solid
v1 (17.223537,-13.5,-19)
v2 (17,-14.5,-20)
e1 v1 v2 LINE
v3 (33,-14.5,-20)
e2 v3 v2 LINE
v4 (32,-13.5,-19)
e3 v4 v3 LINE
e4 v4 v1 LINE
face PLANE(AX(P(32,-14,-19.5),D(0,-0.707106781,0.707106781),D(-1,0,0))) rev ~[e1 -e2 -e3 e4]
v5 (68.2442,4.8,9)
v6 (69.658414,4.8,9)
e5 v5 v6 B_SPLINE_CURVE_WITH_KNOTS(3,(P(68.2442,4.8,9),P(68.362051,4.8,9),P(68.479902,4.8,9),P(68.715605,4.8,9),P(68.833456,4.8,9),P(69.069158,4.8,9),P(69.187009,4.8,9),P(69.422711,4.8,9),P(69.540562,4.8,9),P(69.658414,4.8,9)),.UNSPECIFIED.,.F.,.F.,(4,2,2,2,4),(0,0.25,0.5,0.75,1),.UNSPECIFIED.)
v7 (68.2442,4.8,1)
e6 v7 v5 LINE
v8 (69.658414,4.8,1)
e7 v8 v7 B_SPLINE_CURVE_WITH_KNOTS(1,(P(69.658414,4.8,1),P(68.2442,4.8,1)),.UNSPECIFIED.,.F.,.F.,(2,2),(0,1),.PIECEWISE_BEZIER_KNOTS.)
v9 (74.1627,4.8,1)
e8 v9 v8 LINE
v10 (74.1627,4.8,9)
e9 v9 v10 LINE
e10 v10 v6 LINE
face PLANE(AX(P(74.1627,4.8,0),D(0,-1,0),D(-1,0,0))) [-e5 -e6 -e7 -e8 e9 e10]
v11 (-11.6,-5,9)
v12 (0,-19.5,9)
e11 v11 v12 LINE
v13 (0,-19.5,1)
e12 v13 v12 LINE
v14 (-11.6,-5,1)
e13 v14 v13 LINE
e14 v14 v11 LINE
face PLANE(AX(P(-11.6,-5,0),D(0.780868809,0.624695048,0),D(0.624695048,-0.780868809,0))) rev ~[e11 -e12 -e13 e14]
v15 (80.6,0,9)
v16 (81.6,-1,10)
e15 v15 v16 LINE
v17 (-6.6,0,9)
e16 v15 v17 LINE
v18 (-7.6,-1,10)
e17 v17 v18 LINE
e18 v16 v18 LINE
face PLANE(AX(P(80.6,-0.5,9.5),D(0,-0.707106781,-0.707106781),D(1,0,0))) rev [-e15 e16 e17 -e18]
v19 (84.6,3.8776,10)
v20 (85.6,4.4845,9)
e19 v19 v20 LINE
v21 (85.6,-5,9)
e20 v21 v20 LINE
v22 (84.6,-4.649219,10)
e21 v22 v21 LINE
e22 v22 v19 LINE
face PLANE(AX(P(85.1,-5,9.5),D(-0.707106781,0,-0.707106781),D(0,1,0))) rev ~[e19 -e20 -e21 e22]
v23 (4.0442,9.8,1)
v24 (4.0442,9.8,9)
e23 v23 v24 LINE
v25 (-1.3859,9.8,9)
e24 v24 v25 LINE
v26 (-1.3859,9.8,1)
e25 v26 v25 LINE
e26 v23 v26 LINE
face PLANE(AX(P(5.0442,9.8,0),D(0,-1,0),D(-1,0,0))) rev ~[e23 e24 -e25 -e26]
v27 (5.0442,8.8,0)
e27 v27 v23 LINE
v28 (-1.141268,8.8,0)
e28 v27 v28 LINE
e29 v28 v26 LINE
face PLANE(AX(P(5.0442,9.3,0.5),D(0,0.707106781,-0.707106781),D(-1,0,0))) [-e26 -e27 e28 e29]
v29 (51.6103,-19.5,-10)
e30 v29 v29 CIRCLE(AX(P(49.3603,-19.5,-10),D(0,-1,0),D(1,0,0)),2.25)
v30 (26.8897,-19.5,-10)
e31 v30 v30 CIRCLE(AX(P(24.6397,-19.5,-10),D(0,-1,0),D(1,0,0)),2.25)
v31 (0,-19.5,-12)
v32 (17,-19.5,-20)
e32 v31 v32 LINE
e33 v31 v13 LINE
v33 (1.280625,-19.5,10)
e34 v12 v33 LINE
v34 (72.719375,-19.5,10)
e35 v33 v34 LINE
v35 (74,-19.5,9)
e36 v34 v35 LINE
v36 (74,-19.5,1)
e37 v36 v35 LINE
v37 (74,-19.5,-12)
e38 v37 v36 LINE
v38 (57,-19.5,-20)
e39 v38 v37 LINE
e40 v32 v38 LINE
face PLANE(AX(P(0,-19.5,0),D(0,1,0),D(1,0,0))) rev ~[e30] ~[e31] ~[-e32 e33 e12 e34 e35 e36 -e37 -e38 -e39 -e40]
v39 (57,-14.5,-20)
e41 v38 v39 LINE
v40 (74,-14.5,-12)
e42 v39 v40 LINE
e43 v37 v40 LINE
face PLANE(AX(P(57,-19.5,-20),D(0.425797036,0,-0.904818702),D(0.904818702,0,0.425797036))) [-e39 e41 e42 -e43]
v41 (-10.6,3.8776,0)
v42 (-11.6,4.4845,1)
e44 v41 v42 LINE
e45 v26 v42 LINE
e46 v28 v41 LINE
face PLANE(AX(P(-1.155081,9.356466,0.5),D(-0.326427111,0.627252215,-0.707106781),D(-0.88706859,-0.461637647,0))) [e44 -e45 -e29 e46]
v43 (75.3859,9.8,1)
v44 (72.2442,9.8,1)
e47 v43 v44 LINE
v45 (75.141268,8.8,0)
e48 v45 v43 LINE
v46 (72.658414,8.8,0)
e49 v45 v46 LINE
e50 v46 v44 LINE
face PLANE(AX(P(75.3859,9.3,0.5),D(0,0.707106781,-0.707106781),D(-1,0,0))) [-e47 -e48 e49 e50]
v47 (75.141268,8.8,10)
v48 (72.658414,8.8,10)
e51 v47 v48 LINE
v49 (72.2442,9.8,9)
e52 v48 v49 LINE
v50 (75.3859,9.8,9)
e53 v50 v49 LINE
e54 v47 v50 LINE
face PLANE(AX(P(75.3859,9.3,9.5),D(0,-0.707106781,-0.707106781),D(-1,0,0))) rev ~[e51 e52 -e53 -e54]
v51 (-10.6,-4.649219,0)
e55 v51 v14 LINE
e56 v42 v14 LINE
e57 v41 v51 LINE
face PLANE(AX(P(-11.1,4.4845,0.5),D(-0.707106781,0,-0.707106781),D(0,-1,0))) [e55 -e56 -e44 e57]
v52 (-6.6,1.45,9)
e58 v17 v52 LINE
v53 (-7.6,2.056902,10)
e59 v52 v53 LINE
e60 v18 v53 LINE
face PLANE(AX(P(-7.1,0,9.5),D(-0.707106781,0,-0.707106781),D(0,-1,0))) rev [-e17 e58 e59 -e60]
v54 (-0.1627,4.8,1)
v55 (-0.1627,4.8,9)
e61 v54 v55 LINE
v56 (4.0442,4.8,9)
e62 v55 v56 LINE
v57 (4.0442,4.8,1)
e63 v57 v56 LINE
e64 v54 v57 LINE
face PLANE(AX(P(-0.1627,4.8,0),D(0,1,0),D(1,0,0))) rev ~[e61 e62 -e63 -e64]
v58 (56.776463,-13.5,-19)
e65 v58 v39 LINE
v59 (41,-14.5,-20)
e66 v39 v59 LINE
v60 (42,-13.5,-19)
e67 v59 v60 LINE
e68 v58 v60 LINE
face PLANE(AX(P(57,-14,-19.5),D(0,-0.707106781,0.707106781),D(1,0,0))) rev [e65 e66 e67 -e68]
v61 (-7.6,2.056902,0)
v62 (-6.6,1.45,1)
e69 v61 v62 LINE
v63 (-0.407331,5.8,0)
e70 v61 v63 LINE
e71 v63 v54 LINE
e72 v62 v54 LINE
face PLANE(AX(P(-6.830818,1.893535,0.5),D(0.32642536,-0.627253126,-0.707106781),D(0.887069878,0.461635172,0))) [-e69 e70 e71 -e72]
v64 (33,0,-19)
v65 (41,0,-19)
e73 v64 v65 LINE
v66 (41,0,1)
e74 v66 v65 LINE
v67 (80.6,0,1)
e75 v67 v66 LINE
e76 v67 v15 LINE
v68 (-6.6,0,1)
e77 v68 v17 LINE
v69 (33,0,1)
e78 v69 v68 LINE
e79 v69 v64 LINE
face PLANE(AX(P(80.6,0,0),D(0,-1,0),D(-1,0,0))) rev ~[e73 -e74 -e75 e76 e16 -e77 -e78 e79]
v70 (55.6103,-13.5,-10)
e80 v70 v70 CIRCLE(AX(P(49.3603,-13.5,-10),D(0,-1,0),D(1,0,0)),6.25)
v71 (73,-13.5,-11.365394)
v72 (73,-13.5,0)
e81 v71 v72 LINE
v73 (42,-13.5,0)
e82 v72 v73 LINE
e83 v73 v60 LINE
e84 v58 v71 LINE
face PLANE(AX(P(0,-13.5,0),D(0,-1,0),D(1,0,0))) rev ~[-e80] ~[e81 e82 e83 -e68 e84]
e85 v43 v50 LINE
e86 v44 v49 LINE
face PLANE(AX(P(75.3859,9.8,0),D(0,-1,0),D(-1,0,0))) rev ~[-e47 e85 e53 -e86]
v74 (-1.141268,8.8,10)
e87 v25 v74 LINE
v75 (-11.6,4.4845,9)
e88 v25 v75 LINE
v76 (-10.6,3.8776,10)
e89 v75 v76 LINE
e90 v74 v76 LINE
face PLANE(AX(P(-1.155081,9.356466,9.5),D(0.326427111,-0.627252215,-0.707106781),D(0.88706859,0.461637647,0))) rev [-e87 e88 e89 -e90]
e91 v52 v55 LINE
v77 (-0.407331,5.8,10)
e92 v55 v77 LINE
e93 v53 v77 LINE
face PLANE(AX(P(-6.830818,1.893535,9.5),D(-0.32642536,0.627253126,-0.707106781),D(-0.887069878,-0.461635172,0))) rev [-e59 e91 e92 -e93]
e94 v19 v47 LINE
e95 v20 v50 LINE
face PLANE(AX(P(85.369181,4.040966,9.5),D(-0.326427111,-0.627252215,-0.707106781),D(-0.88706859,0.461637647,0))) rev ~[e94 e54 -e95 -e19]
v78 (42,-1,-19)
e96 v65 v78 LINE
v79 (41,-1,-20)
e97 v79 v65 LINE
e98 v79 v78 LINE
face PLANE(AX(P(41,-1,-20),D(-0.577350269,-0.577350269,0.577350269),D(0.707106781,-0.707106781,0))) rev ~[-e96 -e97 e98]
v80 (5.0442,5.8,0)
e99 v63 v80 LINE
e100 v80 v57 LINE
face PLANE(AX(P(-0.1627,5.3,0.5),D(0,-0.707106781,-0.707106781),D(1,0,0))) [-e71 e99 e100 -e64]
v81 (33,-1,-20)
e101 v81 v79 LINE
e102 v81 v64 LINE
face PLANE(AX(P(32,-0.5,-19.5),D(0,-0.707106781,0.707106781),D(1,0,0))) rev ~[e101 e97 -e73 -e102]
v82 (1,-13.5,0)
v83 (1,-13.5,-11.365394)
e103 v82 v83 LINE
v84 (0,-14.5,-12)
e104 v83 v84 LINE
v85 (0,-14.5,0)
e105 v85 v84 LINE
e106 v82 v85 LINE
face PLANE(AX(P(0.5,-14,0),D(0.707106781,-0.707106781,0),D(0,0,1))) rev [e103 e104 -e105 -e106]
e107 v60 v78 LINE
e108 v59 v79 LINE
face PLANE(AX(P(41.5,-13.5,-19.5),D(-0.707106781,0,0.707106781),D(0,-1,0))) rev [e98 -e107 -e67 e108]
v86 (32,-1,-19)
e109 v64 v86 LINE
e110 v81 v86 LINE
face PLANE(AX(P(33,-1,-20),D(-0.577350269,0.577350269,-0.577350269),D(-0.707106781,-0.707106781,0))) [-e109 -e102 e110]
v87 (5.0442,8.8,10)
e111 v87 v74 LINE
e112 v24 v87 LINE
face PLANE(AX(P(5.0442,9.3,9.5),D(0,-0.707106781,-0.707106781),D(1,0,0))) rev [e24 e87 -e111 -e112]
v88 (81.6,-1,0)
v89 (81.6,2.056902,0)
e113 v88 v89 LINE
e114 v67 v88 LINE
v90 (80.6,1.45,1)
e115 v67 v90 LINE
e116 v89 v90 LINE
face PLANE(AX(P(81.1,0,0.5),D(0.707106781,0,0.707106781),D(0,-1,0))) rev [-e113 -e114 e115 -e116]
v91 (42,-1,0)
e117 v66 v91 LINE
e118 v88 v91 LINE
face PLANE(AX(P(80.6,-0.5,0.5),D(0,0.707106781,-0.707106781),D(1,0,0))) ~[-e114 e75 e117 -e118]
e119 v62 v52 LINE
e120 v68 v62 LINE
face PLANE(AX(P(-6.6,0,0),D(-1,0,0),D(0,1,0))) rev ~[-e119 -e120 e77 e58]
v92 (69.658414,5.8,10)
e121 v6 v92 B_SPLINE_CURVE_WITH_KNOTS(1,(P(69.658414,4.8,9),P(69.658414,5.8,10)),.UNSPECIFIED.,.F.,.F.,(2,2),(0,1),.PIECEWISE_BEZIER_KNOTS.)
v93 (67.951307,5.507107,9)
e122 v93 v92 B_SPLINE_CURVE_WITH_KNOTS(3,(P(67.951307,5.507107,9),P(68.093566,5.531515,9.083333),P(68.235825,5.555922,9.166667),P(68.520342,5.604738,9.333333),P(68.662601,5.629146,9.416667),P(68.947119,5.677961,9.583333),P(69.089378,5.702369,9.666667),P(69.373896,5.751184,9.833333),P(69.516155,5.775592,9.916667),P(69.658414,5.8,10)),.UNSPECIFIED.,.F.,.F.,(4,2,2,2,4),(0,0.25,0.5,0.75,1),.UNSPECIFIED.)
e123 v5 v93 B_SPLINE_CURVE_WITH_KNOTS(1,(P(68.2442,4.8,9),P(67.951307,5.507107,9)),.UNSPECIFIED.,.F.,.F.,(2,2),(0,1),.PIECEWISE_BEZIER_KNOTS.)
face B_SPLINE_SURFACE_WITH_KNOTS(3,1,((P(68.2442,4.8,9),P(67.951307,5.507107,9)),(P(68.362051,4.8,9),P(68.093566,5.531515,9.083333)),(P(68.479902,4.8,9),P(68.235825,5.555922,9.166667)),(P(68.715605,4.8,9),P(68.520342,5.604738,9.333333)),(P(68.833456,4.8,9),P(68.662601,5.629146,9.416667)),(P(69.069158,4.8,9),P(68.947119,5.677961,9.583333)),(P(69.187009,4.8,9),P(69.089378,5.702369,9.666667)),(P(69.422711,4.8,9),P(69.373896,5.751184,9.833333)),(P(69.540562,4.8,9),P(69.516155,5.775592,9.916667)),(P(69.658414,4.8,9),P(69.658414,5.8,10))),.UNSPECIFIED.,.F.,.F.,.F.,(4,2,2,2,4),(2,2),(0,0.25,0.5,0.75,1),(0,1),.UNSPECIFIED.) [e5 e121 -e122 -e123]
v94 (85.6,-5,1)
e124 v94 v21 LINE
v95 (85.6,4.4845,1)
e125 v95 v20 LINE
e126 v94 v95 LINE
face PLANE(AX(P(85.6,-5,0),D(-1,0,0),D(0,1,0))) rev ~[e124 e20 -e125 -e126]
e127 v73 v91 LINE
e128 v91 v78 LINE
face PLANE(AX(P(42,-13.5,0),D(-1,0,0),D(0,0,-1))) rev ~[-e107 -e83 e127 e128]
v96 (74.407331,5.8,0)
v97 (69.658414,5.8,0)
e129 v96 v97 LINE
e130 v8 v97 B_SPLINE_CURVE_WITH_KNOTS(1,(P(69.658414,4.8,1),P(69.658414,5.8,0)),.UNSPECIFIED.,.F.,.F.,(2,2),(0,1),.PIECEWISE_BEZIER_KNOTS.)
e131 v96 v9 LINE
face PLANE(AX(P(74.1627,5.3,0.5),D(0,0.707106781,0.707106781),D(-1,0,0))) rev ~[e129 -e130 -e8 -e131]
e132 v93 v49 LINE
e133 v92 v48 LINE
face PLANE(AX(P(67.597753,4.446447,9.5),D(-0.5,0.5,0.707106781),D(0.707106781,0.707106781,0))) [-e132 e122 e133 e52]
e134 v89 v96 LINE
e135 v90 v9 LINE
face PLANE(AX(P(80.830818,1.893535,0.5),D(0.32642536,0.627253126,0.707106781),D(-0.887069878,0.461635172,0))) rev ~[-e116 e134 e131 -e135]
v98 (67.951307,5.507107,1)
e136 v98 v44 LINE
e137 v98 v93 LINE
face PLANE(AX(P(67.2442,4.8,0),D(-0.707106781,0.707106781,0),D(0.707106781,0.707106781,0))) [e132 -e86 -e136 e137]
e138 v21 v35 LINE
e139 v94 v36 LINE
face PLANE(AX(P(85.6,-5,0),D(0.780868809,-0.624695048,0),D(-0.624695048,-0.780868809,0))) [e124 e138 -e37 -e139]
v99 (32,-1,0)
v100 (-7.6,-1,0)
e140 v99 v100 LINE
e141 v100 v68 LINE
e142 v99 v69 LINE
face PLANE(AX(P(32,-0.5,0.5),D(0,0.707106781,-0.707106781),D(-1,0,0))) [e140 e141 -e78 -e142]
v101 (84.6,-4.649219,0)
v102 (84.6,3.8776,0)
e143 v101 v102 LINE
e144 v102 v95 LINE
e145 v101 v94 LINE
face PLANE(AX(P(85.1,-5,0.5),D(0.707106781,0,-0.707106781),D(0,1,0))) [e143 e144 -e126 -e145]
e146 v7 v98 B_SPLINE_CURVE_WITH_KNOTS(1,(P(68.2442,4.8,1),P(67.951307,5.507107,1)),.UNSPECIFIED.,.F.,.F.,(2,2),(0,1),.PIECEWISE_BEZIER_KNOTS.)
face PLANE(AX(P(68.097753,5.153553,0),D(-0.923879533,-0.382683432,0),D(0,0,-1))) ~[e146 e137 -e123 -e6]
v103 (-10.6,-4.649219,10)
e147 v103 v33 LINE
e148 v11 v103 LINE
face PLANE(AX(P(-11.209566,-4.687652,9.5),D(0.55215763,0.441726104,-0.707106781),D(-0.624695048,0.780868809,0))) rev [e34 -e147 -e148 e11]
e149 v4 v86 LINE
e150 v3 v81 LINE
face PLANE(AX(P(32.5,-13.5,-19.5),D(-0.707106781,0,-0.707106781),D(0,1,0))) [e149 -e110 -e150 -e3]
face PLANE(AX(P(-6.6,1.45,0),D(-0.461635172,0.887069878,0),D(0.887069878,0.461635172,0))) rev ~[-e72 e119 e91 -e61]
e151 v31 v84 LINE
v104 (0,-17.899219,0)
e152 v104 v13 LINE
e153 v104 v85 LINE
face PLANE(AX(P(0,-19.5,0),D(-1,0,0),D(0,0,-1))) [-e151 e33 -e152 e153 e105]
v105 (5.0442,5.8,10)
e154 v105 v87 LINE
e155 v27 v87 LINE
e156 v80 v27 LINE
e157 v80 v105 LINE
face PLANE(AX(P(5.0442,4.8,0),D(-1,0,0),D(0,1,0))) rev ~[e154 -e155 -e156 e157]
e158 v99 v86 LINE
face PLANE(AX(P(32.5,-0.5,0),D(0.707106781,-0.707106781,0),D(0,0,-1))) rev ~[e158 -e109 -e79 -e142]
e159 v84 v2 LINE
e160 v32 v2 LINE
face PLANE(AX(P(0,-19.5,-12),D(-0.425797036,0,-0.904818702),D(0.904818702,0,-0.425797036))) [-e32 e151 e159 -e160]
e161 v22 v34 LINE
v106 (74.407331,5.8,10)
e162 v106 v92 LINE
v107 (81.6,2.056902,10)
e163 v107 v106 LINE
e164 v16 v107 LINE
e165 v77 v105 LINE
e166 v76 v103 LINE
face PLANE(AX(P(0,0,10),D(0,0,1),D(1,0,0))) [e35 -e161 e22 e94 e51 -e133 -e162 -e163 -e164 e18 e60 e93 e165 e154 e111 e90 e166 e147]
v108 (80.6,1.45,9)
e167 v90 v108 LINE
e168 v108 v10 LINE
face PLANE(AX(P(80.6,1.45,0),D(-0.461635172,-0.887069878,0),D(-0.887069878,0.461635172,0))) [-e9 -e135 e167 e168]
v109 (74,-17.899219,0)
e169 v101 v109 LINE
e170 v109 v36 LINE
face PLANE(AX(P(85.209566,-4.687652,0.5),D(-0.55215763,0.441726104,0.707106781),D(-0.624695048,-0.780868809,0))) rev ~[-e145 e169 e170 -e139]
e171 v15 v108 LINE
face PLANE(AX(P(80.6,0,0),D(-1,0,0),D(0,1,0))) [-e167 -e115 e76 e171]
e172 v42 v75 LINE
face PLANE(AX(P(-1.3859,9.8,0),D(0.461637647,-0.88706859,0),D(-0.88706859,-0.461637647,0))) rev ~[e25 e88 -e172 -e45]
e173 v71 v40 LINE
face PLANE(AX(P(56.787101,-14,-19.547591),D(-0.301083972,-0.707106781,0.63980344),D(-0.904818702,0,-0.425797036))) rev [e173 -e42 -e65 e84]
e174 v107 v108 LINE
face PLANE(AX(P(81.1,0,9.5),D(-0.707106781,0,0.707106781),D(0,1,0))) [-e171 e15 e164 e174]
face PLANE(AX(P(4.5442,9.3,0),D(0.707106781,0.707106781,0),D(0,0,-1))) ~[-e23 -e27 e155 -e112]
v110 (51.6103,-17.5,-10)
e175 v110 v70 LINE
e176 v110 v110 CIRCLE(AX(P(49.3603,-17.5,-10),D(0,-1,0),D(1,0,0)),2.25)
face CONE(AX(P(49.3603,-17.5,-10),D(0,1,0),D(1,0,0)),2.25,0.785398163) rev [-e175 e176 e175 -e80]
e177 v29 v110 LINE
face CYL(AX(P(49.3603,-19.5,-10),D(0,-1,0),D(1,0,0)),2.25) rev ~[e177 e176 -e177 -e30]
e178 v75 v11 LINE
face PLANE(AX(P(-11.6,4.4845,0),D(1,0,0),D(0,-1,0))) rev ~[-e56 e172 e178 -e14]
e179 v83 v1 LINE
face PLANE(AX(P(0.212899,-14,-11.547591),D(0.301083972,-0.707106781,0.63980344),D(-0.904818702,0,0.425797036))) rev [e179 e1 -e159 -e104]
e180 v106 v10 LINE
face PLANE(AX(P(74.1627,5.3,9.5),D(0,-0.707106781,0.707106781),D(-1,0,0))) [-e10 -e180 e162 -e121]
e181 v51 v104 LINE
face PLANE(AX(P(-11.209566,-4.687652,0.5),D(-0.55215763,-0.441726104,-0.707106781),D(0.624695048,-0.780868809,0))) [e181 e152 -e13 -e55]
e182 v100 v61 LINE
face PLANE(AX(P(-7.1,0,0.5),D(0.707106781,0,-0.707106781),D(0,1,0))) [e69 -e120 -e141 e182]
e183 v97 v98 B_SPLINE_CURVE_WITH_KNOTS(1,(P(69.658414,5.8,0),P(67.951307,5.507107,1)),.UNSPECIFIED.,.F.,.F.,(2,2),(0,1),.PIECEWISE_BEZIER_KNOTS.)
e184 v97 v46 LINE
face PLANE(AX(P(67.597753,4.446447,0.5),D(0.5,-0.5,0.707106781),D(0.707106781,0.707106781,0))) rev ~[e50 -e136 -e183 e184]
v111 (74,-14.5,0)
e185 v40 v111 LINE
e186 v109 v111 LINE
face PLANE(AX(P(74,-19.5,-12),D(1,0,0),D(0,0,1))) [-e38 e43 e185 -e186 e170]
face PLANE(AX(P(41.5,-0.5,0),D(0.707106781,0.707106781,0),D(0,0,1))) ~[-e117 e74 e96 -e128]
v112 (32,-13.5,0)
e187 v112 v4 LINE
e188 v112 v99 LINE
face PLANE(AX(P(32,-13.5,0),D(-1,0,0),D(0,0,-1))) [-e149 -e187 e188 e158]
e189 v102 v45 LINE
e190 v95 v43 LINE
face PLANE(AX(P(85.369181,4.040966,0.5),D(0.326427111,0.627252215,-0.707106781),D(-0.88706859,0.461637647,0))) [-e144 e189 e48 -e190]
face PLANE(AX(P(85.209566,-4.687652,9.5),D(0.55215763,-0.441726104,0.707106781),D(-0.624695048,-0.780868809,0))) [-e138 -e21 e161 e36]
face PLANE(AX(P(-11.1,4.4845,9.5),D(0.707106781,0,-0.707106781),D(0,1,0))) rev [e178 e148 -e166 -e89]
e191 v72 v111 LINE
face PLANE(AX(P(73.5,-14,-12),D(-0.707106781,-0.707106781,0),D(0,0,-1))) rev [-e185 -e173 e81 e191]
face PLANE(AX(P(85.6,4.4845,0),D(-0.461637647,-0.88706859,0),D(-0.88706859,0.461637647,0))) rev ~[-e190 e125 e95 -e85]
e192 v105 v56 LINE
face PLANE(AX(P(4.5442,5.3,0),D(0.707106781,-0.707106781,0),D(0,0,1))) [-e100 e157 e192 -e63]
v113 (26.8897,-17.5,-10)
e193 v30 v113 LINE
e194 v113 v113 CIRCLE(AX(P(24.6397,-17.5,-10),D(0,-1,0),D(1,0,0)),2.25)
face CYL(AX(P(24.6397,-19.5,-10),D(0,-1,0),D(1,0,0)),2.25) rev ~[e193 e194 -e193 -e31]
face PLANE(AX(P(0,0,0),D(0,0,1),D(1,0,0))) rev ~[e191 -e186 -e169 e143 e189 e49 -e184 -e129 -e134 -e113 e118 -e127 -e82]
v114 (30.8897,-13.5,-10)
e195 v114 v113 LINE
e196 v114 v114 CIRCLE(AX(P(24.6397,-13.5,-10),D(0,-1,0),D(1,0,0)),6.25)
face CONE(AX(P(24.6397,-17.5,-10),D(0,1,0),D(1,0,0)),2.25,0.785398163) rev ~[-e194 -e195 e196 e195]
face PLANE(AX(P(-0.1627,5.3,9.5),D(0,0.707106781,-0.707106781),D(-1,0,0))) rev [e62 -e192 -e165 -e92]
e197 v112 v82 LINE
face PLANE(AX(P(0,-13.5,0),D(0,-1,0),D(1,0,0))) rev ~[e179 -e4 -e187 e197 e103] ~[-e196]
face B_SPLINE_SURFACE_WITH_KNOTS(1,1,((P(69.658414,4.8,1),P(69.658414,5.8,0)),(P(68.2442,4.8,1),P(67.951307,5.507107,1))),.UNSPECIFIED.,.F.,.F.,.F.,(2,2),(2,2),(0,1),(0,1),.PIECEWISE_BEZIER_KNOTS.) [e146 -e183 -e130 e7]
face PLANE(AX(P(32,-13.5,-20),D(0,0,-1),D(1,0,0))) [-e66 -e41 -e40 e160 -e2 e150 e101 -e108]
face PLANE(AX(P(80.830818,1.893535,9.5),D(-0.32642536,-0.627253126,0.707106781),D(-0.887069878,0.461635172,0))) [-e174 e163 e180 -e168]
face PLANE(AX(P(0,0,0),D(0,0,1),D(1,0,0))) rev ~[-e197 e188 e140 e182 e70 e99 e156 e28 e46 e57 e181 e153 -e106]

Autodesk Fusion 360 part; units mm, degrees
sketch "saddle profile" plane through (0, 0, 0) normal (0, 0, 1) x (1, 0, 0) in component "hook"
  line L0 (0, 0) -> (0, 1.45)
  line L1 (0, 1.45) -> (4.9, 4)
  line L2 (4.9, 4) -> (11.5, 4)
  line L3 (11.5, 4) -> (11.5, 8)
  line L4 (11.5, 8) -> (37, 8)
  line L5 (37, 0) -> (0, 0)
  line L6 (37, 8) -> (37, 0) construction
  line L7 (74, 0) -> (74, 1.45)
  line L8 (74, 1.45) -> (69.1, 4)
  line L9 (69.1, 4) -> (62.5, 4)
  line L10 (62.5, 4) -> (62.5, 8)
  line L11 (62.5, 8) -> (37, 8)
  line L12 (37, 0) -> (74, 0)
  line L13 (0, 0) -> (0, -19.5) construction
  line L14 (0, -19.5) -> (74, -19.5) construction
  line L15 (74, -19.5) -> (74, 0) construction
  dimension "d7" = 1.45
  dimension "d8" = 6.6
  dimension "d9" = 4
  dimension "d10" = 11.5
  dimension "d11" = 4
  dimension "d12" = 37
  dimension "d13" = 19.5
sketch "mount profile" plane through (0, 0, 0) normal (0, 0, 1) x (1, 0, 0) in component "hook"
  line L0 (-11.6, 4.4845) -> (-11.6, -5)
  line L1 (0, -19.5) -> (74, -19.5)
  line L2 (-6.6, 1.45) -> (-0.1627, 4.8)
  line L3 (5.0442, 9.8) -> (-1.3859, 9.8)
  line L4 (-1.3859, 9.8) -> (-11.6, 4.4845)
  line L5 (-0.1627, 4.8) -> (5.0442, 4.8)
  line L6 (5.0442, 4.8) -> (5.0442, 9.8)
  line L7 (0, 1.45) -> (4.9, 4)
  line L8 (75.3859, 9.8) -> (72.2442, 9.8)
  line L9 (74.1627, 4.8) -> (67.2442, 4.8)
  line L10 (67.2442, 4.8) -> (72.2442, 9.8)
  line L11 (85.6, -5) -> (85.6, 4.4845)
  line L12 (80.6, 0) -> (-6.6, 0)
  line L13 (-6.6, 0) -> (-6.6, 1.45)
  line L14 (80.6, 0) -> (80.6, 1.45)
  line L15 (80.6, 1.45) -> (74.1627, 4.8)
  line L16 (-3.3814, 3.125) -> (-5.6896, 7.5603) construction
  line L17 (85.6, 4.4845) -> (75.3859, 9.8)
  line L18 (77.3814, 3.125) -> (79.6896, 7.5603) construction
  line L19 (85.6, 0.725) -> (80.6, 0.725) construction
  line L20 (-6.6, 0.725) -> (-11.6, 0.725) construction
  line L21 (85.6, -5) -> (74, -19.5)
  line L22 (-11.6, -5) -> (0, -19.5)
  line L23 (85.6, -5) -> (-11.6, -5) construction
  line L24 (37, 0) -> (37, -5) construction
  line L25 (74, -19.5) -> (74, -13.5)
  line L26 (74, -13.5) -> (0, -13.5)
  line L27 (0, -13.5) -> (0, -19.5)
  point P0 (74, 0)
  point P1 (74, -19.5)
  point P2 (0, -19.5)
  dimension "d16" = 74
  dimension "d17" = 1.45
  dimension "d19" = 4.8
  dimension "d20" = 62.2
  dimension "d22" = 6.6
  dimension "d23" = 45
  dimension "d24" = 6.6
  dimension "d25" = 5
  dimension "d26" = 19.5
  dimension "d29" = 6
  dimension "d47" = 5.2069
extrude "Extrude2" add sketch "mount profile" along normal blind 10 in component "hook"
sketch "mount" plane through (0, -19.5, 0) normal (0, -1, 0) x (1, 0, 0) in component "hook"
  line L0 (0, 0) -> (74, 0)
  line L1 (74, 0) -> (74, 10)
  line L2 (74, 10) -> (0, 10)
  line L3 (0, 10) -> (0, 0)
  line L4 (0, 0) -> (0, -12)
  line L5 (0, -12) -> (17, -20)
  line L6 (17, -20) -> (57, -20)
  line L7 (57, -20) -> (74, -12)
  line L8 (74, -12) -> (74, 0)
  circle A0 centre (24.6397, -10) radius 6.25 construction
  circle A1 centre (49.3603, -10) radius 6.25 construction
  circle A2 centre (24.6397, -10) radius 2.25
  circle A3 centre (49.3603, -10) radius 2.25
  line L9 (24.6397, -10) -> (49.3603, -10) construction
  line L10 (24.6397, -10) -> (0, -12) construction
  line L11 (49.3603, -10) -> (74, -12) construction
  line L12 (42, 0) -> (42, -20)
  line L13 (32, 0) -> (32, -20)
  line L14 (42, -3.75) -> (74, -3.75) construction
  line L15 (32, -3.75) -> (0, -3.75) construction
  dimension "d33" = 12.5
  dimension "d34" = 4.5
  dimension "d35" = 12
  dimension "d36" = 40
  dimension "d37" = 8
  dimension "d40" = 10
  dimension "d42" = 10
extrude "Extrude3" add sketch "mount" against normal blind 6 contours L0 L4 L5 L6 L13 | L0 L6 L12 L13 | L0 L6 L7 L8 L12 in component "hook"
extrude "Extrude4" add sketch "mount" against normal up to surface (13.5 mm away) from surface at -6 contours L0 L6 L12 L13 in component "hook"
chamfer "Chamfer1" distance 4 angle 45 2 edges at (47.2626, -13.5, -10.8136) (22.5419, -13.5, -10.8136) in component "hook"
chamfer "Chamfer2" distance 1 angle 45 47 edges at (74, -13.5, -6) (65.5, -13.5, -16) (49.5, -13.5, -20) (8.5, -13.5, -16) (24.5, -13.5, -20) (0, -13.5, -6) (42, 0, -10) (61.3, 0, 0) (12.7, 0, 0) (32, 0, -10) (37, 0, -20) (42, -6.75, -20) (32, -6.75, -20) (79.8, -12.25, 0) (79.8, -12.25, 10) (85.6, -0.2577, 10) (85.6, -0.2577, 0) (-5.8, -12.25, 0) (-5.8, -12.25, 10) (-11.6, -0.2577, 10) (-11.6, -0.2577, 0) (-6.493, 7.1423, 10) (-6.493, 7.1423, 0) (1.8291, 9.8, 0) (1.8291, 9.8, 10) (5.0442, 9.8, 5) (80.493, 7.1423, 0) (80.493, 7.1423, 10) (73.815, 9.8, 10) (73.815, 9.8, 0) (69.7442, 7.3, 10) (69.7442, 7.3, 0) (5.0442, 4.8, 5) (77.3814, 3.125, 0) (70.7035, 4.8, 0) (80.6, 0.725, 0) (2.4407, 4.8, 0) (-3.3814, 3.125, 0) (-6.6, 0.725, 0) (67.2442, 4.8, 5) (77.3814, 3.125, 10) (37, 0, 10) (80.6, 0.725, 10) (70.7035, 4.8, 10) (2.4407, 4.8, 10) (-3.3814, 3.125, 10) (-6.6, 0.725, 10) in component "hook"
component "hook" placed x (1, 0, 0) y (0, 1, 0) z (0, 0, 1) at (0, 0, 0)
equation "saddleW = 74 mm"
equation "saddleShelfD = 19.5 mm"
equation "saddleLipD = 11.5 mm"
equation "saddleLipT = 4 mm"
equation "saddleLipFlat = 6.6 mm"
equation "saddleEdgeH = 1.45 mm"
equation "d7 = saddleEdgeH"
equation "d8 = saddleLipFlat"
equation "d9 = saddleLipT"
equation "d10 = saddleLipD"
equation "d11 = d9"
equation "d12 = saddleW / 2"
equation "d13 = saddleShelfD"
equation "d16 = saddleW"
equation "d17 = saddleEdgeH"
equation "d19 = saddleLipT * 1.2"
equation "d20 = saddleW - ( 2 * saddleLipD ) + saddleLipFlat + 4.6 mm"
equation "d22 = saddleLipFlat"
equation "d24 = d22"
equation "d26 = saddleShelfD"
equation "mountT = 10 mm"
equation "d31 = mountT"
equation "d42 = mountT"
